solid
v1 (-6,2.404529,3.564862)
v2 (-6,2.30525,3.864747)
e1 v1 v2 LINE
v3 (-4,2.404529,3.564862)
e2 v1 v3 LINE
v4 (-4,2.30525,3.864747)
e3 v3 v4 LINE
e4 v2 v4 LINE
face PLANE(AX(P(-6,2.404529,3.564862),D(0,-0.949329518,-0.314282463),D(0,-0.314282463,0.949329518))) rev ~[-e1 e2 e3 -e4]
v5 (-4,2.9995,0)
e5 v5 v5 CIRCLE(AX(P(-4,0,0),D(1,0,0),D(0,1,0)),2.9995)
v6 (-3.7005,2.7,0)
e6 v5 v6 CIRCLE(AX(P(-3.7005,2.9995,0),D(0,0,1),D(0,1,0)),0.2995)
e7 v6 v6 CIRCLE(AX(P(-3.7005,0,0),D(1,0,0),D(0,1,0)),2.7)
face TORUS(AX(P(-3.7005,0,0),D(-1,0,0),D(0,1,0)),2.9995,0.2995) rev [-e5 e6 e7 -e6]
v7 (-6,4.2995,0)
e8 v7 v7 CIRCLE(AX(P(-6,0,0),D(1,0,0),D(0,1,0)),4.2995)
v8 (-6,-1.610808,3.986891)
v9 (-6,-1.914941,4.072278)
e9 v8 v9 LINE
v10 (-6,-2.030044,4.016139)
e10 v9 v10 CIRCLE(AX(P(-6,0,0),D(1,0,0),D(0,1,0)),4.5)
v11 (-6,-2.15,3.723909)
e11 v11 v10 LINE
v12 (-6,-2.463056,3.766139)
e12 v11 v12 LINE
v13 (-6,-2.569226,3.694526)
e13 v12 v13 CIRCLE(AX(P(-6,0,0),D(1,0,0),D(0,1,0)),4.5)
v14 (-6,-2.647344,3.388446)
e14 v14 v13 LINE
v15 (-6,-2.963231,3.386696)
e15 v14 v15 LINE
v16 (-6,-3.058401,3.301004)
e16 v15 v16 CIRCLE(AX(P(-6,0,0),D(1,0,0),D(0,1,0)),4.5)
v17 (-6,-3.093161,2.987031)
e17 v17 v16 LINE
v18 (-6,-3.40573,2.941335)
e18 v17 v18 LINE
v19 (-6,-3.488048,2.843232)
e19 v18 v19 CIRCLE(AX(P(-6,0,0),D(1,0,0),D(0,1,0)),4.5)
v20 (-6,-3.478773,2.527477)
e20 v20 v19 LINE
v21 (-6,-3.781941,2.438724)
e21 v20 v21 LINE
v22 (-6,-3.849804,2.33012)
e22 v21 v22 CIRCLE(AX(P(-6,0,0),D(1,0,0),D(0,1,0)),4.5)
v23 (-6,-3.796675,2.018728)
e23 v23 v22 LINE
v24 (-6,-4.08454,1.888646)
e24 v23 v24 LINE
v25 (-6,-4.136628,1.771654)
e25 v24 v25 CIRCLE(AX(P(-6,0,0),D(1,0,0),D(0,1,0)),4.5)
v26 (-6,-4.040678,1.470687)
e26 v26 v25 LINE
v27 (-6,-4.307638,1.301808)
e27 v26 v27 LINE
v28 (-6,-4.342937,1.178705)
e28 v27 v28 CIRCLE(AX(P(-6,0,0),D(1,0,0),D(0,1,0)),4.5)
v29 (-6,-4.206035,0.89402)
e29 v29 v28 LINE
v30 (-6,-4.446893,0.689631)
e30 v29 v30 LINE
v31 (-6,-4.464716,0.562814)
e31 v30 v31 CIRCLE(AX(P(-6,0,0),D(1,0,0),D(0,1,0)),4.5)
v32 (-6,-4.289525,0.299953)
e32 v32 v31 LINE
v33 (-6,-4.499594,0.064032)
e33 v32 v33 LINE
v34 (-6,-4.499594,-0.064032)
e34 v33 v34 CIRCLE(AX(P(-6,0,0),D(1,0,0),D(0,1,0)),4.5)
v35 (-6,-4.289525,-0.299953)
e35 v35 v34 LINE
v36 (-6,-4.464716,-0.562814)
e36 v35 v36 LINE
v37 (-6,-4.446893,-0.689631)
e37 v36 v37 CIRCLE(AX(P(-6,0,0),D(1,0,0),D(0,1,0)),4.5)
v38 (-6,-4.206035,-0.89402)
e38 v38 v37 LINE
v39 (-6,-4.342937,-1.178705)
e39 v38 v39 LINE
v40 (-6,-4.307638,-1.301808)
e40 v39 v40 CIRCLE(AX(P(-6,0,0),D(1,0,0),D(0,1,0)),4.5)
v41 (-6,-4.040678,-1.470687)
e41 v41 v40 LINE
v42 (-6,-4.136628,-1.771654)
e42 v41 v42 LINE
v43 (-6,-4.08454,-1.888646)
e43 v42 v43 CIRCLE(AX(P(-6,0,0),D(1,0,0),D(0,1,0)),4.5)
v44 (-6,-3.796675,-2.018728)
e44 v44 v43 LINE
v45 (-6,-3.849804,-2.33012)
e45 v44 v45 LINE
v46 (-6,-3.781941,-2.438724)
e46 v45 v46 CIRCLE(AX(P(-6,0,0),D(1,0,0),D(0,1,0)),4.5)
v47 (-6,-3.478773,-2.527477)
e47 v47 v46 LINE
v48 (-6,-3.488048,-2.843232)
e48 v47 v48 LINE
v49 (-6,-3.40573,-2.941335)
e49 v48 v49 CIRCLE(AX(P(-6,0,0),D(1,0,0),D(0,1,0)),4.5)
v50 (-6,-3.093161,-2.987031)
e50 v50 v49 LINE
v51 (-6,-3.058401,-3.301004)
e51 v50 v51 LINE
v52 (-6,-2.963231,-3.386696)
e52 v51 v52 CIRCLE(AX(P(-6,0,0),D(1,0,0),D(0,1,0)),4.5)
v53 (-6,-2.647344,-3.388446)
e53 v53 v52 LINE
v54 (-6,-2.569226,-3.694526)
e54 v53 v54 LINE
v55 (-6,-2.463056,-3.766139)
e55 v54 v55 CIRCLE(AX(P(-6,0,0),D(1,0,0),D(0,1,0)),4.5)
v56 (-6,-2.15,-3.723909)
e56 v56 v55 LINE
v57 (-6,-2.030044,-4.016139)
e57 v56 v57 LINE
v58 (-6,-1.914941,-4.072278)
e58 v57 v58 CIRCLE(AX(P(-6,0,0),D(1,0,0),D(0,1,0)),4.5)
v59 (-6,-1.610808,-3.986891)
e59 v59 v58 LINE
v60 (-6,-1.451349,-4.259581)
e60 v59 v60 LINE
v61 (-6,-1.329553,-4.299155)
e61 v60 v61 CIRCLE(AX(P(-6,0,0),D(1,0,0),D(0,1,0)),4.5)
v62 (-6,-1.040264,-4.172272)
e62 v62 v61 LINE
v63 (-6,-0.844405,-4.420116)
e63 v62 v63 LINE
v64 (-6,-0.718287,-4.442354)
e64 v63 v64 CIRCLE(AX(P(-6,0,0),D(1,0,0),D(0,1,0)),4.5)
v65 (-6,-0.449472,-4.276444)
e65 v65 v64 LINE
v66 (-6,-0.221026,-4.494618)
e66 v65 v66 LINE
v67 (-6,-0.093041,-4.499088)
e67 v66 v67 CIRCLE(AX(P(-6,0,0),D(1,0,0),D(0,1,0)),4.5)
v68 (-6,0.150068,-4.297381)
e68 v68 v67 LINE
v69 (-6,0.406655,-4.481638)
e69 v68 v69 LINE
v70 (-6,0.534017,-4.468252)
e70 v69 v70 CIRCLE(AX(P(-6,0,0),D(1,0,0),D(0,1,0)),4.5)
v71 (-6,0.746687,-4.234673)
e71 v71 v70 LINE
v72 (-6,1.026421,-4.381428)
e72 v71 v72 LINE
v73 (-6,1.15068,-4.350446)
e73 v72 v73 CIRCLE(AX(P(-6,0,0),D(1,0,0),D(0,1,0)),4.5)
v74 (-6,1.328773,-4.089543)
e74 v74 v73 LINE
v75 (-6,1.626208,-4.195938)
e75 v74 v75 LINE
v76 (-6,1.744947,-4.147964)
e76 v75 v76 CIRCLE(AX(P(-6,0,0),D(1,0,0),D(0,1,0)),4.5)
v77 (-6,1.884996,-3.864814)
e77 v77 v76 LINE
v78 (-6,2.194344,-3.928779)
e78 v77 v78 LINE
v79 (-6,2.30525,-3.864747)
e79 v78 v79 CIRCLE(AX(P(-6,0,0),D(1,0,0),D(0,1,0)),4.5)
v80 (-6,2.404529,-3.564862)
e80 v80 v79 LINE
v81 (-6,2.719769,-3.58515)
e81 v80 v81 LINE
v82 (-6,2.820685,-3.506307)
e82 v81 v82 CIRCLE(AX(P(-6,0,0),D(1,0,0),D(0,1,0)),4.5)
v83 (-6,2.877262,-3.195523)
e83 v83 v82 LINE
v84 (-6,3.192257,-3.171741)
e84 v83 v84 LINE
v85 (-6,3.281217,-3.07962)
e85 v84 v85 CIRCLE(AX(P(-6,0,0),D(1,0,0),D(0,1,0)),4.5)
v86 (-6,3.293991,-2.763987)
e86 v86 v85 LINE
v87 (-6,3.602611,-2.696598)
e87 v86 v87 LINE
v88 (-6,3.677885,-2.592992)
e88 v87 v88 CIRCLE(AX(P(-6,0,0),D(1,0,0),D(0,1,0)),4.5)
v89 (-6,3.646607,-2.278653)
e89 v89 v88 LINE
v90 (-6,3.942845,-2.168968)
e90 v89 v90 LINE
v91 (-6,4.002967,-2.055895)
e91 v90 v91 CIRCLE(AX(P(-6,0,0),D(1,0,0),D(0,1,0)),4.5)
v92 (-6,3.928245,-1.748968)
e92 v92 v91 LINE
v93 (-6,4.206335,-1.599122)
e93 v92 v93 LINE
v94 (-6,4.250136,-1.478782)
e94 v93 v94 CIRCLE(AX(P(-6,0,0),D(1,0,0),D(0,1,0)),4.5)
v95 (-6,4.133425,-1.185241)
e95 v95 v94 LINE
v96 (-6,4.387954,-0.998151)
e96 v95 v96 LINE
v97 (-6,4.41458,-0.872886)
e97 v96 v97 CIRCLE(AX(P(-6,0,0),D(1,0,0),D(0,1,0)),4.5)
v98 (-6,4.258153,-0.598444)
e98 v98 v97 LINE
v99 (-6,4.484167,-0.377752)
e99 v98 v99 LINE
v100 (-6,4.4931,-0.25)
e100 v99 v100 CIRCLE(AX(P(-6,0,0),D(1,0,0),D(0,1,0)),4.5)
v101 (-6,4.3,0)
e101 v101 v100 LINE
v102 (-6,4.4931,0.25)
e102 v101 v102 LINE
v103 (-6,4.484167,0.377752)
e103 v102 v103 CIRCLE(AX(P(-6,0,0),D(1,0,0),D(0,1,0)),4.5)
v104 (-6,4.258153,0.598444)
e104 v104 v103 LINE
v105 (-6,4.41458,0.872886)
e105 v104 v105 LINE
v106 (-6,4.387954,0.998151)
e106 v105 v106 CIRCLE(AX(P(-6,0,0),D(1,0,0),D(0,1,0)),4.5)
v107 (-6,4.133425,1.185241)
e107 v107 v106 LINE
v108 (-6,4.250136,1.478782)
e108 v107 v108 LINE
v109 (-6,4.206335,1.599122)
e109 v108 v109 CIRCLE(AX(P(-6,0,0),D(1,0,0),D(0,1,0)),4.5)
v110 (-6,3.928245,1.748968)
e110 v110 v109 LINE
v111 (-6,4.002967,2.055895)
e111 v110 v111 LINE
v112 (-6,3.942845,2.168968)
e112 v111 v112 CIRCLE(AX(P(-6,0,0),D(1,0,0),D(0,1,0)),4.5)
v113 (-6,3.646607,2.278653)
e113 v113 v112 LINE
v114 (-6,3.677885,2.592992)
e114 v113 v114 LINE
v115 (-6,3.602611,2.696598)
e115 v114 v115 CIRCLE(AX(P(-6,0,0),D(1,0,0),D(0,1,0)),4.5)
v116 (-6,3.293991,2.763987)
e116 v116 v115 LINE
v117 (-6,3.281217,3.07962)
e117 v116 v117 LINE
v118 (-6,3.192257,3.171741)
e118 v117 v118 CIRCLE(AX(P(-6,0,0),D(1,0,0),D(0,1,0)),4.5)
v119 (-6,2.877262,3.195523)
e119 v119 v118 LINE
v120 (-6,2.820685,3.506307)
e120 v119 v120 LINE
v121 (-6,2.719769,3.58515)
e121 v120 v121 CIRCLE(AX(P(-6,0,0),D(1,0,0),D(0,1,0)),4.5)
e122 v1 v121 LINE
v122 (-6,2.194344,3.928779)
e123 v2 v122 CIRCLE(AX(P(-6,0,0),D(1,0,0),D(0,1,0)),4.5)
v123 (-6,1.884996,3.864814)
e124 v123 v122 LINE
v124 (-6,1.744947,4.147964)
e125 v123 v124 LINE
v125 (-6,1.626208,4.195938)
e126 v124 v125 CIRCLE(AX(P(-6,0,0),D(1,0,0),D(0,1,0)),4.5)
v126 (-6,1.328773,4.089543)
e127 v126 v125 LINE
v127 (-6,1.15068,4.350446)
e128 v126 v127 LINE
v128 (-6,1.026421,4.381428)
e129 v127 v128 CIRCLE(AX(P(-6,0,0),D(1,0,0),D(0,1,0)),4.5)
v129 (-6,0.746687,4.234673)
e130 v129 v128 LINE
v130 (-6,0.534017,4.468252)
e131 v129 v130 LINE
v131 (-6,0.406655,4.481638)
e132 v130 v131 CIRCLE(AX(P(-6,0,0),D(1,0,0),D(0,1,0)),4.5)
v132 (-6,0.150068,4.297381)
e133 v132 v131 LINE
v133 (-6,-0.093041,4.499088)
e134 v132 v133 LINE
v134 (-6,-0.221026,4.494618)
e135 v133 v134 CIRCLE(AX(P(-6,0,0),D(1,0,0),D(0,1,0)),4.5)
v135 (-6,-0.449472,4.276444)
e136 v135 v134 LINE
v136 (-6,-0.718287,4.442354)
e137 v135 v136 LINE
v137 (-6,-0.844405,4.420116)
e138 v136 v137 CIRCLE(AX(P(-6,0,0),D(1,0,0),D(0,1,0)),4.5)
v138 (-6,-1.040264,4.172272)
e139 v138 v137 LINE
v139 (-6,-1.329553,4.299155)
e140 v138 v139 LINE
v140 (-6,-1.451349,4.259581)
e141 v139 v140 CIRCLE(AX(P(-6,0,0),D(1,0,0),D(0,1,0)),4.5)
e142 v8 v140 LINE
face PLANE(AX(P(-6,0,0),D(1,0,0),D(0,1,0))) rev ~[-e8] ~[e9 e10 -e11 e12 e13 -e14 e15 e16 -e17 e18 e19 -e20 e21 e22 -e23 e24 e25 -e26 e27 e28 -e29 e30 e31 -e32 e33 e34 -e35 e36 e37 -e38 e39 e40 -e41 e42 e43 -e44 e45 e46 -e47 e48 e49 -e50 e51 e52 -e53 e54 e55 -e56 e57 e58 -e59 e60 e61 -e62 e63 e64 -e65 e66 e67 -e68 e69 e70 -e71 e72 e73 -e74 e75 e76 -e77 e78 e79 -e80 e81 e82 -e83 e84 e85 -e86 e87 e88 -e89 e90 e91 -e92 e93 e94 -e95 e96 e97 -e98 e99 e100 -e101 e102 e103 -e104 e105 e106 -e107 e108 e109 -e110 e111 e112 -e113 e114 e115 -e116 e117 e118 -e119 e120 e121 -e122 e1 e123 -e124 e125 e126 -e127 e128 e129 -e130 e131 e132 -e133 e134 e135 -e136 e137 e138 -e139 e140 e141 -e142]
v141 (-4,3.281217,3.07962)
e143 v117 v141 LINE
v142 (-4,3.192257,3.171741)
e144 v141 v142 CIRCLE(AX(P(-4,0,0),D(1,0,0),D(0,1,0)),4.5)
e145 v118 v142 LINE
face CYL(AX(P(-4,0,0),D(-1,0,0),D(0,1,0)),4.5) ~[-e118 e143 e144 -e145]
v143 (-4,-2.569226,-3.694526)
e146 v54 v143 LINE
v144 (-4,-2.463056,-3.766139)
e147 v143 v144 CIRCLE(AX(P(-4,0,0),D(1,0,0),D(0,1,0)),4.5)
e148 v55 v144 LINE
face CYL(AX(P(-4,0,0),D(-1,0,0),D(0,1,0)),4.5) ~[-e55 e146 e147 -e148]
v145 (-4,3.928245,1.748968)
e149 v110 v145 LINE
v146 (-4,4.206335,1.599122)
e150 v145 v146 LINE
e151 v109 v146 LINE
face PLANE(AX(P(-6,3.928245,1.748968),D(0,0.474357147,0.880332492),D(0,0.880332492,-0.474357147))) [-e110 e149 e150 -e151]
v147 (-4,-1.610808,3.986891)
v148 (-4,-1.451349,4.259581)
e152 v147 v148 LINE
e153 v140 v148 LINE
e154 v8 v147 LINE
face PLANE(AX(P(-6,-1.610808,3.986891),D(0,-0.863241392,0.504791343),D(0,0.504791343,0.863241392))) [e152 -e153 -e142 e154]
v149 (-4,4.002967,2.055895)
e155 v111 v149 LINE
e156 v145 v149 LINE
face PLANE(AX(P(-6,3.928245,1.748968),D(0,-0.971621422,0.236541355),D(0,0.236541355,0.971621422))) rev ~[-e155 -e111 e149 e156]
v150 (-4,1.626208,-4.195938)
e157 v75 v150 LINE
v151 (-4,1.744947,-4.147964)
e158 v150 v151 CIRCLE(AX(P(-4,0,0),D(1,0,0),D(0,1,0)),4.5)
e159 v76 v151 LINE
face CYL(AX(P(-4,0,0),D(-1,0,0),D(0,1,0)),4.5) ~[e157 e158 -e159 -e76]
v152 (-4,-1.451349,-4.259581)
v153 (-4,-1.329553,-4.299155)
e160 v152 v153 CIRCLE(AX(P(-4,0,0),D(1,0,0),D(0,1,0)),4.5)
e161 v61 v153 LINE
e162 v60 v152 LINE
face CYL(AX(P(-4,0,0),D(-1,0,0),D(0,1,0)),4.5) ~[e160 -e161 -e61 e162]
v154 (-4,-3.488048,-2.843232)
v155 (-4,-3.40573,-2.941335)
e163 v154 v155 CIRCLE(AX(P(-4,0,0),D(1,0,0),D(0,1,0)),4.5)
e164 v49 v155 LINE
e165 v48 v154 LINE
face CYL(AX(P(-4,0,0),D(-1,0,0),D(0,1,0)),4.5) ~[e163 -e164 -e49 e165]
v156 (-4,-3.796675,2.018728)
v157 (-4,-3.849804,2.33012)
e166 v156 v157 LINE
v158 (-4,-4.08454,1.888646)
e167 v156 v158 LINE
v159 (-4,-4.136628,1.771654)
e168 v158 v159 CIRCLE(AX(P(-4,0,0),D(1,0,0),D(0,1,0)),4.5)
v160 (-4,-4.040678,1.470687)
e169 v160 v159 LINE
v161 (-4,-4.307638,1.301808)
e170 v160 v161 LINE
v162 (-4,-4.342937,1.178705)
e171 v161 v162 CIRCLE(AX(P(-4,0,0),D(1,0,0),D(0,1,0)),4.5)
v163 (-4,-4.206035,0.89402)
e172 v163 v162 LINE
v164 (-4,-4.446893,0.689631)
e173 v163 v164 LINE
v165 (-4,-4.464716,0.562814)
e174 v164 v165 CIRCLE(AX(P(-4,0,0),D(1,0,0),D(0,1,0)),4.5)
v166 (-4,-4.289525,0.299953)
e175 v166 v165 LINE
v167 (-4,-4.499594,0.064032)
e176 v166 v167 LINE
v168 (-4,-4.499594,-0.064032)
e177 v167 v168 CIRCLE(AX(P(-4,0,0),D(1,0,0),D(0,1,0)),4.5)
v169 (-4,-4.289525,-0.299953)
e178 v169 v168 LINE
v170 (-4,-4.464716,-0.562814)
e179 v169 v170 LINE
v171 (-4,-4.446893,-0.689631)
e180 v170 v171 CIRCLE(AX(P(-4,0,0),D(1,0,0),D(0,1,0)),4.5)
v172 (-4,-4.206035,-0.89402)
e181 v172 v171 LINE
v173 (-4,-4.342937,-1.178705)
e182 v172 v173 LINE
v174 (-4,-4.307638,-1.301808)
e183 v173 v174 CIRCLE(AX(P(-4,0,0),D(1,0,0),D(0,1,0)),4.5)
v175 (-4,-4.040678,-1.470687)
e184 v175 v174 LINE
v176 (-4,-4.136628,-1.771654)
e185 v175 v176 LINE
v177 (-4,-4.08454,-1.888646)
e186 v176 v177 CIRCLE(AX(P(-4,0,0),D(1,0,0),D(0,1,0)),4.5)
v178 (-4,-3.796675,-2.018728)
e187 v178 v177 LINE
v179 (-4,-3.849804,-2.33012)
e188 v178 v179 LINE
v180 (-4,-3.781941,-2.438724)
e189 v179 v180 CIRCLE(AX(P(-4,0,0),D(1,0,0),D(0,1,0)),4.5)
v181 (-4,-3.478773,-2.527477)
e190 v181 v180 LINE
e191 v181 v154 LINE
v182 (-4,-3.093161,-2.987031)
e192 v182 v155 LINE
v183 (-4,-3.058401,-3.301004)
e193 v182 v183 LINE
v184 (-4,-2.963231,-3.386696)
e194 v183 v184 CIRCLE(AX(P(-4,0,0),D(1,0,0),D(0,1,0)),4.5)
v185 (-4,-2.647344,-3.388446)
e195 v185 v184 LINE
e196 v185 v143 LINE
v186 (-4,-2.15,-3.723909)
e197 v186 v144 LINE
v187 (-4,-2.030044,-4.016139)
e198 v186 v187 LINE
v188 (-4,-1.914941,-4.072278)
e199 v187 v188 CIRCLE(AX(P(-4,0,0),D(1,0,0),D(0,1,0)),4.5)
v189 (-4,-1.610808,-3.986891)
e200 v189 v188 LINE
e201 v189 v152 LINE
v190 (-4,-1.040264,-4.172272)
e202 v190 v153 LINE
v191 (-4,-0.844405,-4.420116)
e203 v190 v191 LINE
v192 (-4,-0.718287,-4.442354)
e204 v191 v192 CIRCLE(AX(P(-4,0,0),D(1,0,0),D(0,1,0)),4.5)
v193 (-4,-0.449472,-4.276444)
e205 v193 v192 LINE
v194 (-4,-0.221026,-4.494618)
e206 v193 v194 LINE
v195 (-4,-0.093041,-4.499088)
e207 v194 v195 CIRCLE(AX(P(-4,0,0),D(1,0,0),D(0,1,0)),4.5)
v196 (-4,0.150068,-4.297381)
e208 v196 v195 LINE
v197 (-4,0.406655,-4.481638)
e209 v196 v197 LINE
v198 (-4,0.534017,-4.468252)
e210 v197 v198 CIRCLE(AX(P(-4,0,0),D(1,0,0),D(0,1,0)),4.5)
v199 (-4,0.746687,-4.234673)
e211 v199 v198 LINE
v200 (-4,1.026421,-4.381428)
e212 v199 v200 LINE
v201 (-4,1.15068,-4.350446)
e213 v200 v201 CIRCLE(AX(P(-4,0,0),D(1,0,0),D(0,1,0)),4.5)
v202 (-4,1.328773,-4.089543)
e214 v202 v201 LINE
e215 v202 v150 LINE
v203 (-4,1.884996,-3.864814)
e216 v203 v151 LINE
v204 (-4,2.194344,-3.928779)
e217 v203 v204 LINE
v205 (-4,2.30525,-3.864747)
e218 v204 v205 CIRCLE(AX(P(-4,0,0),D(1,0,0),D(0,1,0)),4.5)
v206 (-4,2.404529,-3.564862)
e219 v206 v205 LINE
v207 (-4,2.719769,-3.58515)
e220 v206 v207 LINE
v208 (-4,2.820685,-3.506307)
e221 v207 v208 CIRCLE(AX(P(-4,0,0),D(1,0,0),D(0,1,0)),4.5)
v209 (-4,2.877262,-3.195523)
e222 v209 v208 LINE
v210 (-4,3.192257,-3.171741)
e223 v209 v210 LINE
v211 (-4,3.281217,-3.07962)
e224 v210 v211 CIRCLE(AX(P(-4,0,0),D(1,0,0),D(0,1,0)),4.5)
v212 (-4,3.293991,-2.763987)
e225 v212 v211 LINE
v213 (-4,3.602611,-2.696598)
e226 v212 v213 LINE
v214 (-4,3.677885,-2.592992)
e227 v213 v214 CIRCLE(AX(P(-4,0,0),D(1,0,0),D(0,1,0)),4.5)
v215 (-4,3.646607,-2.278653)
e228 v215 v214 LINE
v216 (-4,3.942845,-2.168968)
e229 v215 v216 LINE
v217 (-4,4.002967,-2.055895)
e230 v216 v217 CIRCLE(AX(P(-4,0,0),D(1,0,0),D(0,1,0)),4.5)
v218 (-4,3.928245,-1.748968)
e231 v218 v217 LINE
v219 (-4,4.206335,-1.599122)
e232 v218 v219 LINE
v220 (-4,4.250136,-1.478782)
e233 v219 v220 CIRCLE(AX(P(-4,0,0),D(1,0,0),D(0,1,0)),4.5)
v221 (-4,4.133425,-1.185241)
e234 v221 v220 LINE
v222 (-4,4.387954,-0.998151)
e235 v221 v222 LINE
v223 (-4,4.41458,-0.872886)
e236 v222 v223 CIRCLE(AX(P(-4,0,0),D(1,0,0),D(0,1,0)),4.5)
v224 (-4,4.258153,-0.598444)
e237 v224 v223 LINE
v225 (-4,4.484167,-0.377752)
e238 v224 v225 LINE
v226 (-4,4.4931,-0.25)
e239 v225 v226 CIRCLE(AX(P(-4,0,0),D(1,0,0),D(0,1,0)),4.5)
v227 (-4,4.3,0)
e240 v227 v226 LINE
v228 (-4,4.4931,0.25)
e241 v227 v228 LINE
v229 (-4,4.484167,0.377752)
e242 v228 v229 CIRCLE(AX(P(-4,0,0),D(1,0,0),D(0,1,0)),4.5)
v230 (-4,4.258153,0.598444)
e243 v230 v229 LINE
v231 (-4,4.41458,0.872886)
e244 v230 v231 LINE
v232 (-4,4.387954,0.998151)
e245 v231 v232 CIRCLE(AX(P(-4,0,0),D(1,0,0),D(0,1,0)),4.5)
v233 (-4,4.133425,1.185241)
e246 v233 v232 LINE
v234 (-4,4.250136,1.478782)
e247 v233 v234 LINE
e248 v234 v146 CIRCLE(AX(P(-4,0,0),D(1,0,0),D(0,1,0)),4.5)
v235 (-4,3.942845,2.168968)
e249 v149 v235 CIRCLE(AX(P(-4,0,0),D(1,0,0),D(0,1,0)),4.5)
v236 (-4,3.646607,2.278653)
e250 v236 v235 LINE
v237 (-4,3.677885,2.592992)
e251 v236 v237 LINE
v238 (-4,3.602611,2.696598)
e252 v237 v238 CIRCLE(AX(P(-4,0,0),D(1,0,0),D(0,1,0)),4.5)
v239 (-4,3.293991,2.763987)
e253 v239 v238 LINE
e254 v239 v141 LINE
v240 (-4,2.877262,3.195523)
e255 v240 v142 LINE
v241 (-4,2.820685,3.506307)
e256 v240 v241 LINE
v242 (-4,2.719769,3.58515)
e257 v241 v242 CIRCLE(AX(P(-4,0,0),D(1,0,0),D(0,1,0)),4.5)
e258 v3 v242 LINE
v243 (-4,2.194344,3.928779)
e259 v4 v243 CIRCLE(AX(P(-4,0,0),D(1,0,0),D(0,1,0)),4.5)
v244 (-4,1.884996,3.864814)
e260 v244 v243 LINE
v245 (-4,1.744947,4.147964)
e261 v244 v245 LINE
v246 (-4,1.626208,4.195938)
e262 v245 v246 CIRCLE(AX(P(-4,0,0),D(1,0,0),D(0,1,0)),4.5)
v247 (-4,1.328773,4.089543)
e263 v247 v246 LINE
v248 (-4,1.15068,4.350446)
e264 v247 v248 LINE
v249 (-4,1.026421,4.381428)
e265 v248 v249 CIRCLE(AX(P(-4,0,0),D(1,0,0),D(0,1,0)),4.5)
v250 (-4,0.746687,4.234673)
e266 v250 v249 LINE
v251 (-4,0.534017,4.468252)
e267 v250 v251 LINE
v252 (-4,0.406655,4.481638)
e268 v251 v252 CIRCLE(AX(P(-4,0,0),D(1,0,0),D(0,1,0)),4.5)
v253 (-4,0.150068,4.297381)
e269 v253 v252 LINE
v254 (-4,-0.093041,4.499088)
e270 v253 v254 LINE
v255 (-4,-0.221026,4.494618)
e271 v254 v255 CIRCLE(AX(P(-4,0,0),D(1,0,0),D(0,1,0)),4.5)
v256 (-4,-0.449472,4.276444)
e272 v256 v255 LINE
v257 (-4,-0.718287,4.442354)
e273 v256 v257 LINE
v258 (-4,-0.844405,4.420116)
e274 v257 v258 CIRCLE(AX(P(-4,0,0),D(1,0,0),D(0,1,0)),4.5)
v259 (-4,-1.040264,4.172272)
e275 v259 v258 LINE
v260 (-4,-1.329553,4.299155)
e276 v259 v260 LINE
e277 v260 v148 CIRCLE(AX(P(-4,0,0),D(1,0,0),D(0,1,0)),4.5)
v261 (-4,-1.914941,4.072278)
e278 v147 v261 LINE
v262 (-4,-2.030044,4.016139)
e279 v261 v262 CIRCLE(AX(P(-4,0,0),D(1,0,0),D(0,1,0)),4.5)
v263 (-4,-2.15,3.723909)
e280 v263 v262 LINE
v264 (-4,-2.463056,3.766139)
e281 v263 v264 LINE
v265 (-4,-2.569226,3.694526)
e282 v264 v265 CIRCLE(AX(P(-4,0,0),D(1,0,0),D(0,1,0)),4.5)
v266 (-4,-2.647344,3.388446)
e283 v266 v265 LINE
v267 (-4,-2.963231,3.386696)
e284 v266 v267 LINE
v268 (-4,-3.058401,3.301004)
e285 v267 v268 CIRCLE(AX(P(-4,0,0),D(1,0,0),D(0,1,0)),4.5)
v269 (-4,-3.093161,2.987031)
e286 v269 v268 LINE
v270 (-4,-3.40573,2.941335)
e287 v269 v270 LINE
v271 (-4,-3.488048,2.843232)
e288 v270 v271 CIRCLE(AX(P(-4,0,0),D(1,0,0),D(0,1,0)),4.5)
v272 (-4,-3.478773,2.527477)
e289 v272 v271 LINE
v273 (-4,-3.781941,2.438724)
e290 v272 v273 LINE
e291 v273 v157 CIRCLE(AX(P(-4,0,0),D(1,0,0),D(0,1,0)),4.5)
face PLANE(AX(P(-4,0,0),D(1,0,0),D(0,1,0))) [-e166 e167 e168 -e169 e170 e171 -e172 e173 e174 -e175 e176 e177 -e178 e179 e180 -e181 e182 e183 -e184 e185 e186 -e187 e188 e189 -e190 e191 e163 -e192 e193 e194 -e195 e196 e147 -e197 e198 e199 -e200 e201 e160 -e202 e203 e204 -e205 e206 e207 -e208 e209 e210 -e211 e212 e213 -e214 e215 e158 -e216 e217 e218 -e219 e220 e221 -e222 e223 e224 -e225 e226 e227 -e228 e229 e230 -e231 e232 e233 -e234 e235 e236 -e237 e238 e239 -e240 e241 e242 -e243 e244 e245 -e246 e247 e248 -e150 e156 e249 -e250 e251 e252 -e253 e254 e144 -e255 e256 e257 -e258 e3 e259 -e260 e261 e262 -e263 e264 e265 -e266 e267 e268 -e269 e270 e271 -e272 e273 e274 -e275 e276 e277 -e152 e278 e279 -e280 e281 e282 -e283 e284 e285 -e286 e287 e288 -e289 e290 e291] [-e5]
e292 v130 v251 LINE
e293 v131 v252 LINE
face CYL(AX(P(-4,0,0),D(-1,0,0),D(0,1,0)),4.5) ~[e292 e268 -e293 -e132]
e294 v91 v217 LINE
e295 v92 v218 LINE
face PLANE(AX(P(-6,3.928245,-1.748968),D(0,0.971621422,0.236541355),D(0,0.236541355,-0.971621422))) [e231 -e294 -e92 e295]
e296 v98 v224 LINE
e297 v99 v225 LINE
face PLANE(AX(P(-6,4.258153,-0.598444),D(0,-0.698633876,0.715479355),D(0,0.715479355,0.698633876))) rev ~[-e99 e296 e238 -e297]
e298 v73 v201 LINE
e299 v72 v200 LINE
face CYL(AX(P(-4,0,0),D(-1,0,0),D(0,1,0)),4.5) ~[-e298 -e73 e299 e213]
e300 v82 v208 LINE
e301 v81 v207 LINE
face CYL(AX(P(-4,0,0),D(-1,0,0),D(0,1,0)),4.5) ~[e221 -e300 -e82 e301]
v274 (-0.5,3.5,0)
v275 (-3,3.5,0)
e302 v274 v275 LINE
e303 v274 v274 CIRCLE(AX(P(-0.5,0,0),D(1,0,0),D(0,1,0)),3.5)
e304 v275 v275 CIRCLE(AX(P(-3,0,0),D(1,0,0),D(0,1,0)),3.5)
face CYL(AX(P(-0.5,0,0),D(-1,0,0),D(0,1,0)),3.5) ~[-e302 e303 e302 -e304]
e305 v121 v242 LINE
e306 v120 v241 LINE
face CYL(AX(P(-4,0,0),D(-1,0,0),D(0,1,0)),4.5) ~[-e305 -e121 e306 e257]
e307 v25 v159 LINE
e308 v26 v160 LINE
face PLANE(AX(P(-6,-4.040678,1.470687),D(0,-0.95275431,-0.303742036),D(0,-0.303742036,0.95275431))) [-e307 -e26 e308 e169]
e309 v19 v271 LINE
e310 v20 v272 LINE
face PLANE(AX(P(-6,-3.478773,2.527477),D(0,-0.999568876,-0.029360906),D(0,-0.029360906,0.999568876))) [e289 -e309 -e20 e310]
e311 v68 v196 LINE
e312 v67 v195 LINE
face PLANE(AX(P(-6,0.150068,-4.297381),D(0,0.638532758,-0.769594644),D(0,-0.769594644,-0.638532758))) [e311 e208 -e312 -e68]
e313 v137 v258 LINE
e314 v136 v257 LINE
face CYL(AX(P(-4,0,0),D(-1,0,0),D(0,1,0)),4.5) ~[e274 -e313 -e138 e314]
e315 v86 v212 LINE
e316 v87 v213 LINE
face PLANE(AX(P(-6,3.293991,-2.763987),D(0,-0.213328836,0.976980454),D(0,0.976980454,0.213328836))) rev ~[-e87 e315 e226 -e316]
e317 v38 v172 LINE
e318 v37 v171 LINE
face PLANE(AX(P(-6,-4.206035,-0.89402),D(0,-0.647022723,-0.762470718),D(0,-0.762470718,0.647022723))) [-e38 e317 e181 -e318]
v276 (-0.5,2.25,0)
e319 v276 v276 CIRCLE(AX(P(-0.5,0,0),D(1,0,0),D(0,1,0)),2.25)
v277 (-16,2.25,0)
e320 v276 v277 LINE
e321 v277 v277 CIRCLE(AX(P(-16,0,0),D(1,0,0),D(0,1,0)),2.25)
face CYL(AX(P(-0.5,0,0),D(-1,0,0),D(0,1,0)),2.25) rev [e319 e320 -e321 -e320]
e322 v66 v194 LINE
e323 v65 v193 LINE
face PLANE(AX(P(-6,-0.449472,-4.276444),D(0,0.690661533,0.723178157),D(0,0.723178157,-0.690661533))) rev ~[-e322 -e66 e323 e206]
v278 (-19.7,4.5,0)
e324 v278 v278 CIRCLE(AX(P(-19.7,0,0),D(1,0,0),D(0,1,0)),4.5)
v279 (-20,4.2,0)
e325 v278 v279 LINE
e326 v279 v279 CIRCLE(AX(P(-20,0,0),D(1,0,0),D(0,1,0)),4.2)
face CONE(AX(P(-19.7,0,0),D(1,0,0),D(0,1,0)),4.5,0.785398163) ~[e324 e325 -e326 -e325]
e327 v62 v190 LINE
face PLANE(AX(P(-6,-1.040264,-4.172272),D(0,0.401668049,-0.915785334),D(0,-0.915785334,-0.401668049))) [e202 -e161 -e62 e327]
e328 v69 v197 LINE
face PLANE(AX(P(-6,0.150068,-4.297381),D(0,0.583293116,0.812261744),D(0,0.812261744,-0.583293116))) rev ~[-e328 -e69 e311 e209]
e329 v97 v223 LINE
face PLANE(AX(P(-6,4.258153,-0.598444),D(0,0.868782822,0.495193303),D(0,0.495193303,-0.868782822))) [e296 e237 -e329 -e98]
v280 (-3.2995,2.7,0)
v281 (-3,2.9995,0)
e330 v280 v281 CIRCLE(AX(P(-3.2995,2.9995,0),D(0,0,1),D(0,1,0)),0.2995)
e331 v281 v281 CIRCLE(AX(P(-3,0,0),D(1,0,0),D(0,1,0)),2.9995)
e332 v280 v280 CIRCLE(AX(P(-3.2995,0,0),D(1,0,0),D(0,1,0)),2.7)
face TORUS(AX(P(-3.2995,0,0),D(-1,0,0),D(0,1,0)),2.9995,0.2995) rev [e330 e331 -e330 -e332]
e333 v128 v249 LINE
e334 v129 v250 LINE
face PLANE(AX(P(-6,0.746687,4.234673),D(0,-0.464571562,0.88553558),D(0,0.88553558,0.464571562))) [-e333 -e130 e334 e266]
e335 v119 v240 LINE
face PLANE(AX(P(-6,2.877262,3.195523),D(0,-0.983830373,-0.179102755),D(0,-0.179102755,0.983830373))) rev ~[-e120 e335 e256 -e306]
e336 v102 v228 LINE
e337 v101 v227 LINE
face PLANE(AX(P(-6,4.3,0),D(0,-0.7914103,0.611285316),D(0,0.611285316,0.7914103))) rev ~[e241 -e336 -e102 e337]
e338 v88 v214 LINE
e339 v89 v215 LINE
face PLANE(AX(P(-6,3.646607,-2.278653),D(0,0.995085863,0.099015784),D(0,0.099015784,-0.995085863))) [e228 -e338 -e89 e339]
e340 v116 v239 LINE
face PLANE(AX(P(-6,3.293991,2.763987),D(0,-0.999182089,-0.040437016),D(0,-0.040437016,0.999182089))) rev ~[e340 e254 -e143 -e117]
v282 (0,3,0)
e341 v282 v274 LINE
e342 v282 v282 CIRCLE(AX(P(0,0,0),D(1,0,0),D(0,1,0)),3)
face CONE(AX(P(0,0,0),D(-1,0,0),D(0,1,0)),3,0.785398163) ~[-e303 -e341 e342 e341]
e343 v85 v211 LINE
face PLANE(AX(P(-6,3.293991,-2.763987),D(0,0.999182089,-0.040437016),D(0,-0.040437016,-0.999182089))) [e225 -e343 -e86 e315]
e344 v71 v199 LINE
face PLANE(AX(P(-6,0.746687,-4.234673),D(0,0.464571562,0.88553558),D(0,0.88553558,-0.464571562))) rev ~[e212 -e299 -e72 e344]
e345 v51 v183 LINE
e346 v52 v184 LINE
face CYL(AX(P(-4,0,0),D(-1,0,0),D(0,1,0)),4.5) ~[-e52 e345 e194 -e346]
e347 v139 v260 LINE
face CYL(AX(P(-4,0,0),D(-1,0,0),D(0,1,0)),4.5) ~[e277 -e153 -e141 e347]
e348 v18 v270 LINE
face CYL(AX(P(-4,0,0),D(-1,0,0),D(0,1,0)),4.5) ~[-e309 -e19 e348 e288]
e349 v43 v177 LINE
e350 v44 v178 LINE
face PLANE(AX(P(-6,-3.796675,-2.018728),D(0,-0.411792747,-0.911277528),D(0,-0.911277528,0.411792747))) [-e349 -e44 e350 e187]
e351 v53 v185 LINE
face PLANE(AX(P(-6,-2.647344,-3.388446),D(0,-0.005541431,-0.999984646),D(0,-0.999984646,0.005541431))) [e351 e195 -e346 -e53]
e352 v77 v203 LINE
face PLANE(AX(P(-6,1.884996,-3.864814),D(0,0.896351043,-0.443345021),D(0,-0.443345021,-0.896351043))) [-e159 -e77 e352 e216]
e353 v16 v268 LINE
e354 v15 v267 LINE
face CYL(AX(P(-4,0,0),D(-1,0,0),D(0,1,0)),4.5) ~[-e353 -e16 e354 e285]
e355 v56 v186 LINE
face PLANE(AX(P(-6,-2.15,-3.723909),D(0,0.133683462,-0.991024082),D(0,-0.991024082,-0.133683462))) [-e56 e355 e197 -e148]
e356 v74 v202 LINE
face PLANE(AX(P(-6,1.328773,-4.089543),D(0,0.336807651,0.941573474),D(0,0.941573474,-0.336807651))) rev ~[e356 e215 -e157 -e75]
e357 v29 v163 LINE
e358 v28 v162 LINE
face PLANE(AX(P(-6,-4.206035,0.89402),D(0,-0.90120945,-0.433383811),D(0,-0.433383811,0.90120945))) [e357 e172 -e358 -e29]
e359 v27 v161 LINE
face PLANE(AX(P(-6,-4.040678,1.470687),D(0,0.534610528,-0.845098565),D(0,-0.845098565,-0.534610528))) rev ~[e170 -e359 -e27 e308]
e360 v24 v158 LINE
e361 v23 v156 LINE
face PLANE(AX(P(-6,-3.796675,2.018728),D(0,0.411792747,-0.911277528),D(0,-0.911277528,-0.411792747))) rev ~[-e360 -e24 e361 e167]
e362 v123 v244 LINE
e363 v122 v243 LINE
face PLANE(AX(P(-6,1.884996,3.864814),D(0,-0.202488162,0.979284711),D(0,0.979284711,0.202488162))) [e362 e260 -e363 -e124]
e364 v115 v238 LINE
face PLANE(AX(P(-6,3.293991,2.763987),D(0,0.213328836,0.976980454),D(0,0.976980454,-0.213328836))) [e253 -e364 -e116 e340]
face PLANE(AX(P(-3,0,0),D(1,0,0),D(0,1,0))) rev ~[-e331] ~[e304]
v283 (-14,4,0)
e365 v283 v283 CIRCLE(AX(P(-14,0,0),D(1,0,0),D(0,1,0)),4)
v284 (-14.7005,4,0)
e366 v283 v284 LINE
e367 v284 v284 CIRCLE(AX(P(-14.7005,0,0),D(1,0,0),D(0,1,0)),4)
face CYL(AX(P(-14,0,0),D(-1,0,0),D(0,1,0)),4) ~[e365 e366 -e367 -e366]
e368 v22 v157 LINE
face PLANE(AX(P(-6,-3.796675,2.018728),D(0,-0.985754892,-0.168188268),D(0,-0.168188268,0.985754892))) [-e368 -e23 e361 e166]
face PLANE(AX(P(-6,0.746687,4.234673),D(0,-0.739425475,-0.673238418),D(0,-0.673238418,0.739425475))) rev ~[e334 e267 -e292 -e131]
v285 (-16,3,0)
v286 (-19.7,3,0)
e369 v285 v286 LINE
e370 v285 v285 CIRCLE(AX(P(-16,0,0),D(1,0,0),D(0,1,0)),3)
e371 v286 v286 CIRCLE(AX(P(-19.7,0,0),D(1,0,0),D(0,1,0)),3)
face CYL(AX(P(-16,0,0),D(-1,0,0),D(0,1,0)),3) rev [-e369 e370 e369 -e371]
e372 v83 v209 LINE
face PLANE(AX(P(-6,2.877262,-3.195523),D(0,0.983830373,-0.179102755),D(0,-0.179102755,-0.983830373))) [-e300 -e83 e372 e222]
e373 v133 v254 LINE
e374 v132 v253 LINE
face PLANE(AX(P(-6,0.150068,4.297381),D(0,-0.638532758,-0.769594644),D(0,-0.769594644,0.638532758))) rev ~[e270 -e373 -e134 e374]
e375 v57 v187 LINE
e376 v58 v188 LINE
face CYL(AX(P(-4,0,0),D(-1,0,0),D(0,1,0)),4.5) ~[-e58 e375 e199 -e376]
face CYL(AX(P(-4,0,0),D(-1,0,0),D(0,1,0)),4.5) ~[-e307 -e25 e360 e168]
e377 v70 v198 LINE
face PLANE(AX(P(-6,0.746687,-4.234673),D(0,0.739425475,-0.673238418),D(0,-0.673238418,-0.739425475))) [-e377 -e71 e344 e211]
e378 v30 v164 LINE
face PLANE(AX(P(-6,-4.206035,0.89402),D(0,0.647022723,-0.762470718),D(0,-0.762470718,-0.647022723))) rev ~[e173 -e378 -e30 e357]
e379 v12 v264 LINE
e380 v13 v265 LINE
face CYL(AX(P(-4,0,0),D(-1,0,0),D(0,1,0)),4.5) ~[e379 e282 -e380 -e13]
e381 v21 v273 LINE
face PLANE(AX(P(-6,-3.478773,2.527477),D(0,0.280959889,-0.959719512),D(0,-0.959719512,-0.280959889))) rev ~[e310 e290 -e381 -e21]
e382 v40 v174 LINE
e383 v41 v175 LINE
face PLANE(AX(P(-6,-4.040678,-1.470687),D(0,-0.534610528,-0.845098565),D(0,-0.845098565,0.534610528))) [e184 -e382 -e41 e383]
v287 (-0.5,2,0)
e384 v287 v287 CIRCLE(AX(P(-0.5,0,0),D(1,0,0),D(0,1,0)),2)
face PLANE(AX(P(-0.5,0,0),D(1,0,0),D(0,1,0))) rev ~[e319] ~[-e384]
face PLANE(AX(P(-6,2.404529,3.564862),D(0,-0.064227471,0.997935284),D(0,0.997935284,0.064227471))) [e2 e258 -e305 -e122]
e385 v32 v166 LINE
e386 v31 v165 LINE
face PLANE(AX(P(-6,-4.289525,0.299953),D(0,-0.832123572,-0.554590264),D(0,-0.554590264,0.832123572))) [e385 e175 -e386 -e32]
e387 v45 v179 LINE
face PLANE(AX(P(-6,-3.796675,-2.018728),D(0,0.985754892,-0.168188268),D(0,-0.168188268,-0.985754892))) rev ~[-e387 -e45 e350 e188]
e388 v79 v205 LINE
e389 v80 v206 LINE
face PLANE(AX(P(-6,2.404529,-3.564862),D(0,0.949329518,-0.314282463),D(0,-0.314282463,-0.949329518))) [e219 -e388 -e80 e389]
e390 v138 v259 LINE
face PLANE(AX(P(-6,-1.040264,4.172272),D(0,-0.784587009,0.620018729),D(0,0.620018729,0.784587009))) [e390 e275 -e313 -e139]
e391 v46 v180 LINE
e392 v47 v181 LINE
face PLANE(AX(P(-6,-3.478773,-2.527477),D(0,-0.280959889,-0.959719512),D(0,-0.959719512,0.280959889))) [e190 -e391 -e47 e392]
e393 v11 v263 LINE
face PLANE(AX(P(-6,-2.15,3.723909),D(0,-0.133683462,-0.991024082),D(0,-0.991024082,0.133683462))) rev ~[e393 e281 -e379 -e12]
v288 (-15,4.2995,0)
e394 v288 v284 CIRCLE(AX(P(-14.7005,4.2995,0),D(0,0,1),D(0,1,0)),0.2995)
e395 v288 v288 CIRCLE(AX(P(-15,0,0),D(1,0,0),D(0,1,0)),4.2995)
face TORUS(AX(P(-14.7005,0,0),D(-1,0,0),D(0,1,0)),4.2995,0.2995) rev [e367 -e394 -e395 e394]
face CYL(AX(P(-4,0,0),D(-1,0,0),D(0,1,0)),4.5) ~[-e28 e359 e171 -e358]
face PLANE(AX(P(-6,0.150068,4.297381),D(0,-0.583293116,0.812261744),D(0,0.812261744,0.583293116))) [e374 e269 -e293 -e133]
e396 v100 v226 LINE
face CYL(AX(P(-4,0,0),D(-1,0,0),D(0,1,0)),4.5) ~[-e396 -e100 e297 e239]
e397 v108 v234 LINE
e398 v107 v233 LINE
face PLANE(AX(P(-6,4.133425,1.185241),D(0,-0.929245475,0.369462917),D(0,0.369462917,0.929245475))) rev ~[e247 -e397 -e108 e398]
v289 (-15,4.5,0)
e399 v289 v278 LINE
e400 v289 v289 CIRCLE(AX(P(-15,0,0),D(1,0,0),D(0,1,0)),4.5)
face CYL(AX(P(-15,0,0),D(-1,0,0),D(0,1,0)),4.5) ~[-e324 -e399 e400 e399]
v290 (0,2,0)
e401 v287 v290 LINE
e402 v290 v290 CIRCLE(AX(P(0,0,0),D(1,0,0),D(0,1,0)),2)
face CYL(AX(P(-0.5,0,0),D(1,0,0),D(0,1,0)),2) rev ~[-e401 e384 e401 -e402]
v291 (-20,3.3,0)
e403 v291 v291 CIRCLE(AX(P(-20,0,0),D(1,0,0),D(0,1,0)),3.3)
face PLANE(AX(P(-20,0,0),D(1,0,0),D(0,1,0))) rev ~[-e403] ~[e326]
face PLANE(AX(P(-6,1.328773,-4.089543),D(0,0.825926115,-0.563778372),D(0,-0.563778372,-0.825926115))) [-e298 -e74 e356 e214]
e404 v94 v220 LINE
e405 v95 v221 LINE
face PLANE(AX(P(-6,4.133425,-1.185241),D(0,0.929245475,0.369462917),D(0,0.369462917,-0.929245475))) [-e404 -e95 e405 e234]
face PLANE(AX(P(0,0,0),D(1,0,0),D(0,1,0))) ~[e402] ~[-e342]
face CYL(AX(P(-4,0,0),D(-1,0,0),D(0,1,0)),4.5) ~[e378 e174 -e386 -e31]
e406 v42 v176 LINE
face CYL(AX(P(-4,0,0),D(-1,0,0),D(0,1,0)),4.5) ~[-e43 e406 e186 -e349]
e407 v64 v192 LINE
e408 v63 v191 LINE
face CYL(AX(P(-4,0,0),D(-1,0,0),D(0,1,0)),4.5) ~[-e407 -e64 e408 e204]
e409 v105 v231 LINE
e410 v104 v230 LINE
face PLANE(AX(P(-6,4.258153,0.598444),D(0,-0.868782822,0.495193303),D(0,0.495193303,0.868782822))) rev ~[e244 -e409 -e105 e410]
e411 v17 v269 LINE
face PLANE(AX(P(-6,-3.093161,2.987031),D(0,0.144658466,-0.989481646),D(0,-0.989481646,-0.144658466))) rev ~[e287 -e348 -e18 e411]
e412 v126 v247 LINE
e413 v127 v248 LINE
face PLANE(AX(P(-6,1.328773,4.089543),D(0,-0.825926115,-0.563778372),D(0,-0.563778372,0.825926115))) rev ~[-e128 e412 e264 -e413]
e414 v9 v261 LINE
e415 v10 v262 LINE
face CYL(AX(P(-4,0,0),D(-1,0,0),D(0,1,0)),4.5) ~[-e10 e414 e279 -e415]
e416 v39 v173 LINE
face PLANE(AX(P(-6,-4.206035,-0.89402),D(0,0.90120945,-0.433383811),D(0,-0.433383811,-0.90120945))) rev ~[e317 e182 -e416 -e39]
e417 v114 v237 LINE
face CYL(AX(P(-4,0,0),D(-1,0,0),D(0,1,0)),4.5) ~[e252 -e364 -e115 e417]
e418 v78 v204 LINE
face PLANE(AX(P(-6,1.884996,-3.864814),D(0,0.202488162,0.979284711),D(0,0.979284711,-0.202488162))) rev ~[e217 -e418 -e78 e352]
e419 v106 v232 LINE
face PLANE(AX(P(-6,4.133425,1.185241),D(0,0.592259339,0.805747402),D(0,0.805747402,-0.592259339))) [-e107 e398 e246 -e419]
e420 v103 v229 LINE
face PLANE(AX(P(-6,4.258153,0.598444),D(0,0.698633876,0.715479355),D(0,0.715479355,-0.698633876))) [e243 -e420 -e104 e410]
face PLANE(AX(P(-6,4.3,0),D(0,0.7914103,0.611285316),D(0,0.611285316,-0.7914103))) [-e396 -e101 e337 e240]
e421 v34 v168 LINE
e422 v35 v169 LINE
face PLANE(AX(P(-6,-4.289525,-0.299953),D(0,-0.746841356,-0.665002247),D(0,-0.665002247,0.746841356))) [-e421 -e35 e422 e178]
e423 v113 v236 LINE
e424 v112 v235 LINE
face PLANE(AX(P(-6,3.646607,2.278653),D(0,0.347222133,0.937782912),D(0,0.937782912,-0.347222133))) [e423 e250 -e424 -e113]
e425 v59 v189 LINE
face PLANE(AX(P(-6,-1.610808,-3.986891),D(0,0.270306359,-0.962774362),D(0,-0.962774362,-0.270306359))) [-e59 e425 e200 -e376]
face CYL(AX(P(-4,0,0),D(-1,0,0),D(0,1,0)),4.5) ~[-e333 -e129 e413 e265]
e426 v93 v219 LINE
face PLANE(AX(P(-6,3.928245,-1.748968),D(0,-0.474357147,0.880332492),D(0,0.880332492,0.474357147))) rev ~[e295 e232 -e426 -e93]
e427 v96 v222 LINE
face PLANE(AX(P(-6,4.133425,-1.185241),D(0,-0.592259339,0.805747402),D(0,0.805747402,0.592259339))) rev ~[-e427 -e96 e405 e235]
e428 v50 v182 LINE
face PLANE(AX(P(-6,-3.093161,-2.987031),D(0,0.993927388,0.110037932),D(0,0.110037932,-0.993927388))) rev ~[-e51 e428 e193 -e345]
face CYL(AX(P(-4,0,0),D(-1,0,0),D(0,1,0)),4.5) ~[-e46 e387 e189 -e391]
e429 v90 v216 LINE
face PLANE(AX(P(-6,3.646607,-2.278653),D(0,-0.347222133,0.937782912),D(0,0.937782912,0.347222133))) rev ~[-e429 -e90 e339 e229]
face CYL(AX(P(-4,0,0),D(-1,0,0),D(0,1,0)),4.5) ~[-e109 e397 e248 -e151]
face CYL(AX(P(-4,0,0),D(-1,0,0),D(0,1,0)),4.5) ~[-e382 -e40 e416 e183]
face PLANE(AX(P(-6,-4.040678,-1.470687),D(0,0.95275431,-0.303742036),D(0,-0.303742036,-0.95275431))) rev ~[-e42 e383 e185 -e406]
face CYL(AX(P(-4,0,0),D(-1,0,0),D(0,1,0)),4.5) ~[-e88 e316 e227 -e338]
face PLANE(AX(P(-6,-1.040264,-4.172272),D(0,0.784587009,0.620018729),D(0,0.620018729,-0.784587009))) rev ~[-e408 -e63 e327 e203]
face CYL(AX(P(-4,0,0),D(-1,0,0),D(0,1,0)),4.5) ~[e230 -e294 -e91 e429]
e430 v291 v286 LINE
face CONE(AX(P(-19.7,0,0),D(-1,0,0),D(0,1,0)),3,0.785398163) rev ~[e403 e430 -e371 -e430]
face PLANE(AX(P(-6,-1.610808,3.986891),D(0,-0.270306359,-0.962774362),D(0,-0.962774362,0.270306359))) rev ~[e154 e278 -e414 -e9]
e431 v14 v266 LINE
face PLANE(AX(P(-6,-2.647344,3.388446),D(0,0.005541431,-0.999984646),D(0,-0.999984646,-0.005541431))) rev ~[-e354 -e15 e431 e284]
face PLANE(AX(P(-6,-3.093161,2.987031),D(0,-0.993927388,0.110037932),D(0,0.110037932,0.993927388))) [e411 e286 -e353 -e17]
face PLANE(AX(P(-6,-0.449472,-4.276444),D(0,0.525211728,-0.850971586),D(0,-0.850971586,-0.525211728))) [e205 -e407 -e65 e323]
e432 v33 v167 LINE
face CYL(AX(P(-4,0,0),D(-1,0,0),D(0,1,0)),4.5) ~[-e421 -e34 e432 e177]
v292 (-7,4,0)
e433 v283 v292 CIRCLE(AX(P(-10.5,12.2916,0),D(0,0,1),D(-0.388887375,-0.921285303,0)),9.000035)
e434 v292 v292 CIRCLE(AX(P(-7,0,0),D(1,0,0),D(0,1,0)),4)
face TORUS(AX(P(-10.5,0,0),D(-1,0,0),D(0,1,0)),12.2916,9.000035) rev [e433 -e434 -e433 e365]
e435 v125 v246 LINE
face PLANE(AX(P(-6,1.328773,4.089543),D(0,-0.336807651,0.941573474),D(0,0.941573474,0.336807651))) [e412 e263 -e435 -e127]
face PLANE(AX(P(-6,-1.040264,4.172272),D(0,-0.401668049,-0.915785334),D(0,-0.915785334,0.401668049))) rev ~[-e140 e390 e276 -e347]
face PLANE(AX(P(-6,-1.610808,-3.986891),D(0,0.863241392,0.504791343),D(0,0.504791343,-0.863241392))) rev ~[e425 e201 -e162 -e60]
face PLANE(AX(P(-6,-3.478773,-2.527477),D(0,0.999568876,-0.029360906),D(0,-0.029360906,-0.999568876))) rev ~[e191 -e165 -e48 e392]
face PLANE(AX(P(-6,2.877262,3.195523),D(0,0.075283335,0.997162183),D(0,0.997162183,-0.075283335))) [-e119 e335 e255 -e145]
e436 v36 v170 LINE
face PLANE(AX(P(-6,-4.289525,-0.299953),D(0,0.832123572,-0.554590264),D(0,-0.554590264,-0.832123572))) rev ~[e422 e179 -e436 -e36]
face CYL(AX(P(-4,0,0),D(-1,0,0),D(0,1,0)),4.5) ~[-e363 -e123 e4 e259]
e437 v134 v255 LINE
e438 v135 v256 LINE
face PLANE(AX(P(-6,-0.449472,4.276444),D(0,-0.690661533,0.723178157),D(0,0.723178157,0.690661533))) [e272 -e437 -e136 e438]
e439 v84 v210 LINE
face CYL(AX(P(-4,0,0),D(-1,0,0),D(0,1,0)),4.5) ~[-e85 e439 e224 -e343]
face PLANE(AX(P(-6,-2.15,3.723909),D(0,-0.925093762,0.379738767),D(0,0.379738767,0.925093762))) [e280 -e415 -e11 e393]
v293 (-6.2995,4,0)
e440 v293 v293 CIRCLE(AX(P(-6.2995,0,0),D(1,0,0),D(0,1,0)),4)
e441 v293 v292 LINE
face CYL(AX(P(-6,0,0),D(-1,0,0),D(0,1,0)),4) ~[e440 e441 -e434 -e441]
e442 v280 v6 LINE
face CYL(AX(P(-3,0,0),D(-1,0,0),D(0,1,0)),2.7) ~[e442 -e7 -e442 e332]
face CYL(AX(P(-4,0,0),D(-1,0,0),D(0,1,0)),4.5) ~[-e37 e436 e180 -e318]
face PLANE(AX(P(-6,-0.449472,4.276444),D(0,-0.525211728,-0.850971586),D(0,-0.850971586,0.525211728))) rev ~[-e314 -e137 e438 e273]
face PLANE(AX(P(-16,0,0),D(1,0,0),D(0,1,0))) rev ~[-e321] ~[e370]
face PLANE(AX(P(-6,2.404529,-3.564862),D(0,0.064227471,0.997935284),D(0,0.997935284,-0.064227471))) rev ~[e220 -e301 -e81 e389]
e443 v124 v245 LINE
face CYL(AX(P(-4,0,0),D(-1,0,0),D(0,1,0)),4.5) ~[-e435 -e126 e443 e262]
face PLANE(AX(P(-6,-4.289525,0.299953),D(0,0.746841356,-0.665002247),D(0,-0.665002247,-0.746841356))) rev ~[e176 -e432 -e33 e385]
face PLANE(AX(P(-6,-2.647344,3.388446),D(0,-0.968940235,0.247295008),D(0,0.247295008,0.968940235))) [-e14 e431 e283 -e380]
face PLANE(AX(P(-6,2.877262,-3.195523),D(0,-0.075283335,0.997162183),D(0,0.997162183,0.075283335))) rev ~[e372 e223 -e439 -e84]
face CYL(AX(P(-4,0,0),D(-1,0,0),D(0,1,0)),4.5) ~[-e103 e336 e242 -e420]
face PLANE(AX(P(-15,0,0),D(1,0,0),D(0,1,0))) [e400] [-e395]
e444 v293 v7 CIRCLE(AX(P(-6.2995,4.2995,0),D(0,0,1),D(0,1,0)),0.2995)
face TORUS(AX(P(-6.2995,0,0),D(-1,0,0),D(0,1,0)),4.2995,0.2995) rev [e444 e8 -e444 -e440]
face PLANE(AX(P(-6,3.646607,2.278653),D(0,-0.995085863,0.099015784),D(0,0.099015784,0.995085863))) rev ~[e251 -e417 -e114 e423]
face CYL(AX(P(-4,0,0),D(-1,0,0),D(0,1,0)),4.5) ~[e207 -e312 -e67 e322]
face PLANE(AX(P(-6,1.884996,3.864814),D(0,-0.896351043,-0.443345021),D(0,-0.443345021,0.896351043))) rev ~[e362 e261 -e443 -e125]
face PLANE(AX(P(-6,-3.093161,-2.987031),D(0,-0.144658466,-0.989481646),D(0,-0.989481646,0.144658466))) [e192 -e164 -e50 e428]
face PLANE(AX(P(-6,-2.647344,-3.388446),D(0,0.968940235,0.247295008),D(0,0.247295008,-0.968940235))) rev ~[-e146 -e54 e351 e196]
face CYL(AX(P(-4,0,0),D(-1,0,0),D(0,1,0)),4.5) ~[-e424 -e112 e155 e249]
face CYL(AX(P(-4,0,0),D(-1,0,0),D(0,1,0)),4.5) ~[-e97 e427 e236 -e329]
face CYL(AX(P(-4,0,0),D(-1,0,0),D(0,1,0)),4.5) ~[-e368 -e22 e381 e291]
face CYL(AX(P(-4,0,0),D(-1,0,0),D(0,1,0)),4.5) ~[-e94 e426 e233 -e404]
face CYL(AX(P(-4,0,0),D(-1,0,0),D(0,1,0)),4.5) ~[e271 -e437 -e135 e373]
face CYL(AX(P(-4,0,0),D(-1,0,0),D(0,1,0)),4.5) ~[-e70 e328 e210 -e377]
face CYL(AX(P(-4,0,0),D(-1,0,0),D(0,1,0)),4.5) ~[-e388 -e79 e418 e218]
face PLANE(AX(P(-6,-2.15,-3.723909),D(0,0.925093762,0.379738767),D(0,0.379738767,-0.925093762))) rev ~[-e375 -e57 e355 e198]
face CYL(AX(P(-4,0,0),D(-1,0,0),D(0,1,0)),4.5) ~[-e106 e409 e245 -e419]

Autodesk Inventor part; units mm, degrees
ref_plane "YZ Plane" through (0, 0, 0) normal (1, 0, 0) x (0, 1, 0)
ref_plane "XZ Plane" through (0, 0, 0) normal (0, 1, 0) x (-1, 0, 0)
ref_plane "XY Plane" through (0, 0, 0) normal (0, 0, 1) x (1, 0, 0)
sketch "Skizze1" plane through (0, 0, 0) normal (0, 0, 1) x (1, 0, 0)
  line L0 (-15, 4.5) -> (-20, 4.5)
  line L1 (-14, 4) -> (-15, 4)
  arc A0 (-14, 4) -> (-7, 4) centre (-10.5, 12.2916) ccw
  line L2 (-6, 4) -> (-7, 4)
  line L3 (-4, 4.5) -> (-6, 4.5)
  line L4 (-4, 4.5) -> (-4, 2.7)
  line L5 (-3, 2.7) -> (-4, 2.7)
  line L6 (-0.5, 3.5) -> (-3, 3.5)
  line L7 (0, 3) -> (-0.5, 3.5)
  line L8 (-0.5, 2) -> (0, 2)
  line L9 (-0.5, 2.25) -> (-16, 2.25)
  line L10 (-16, 3) -> (-16, 2.25)
  line L11 (-16, 3) -> (-20, 3)
  line L12 (0, -2.4583) -> (0, 14.7499) projected
  line L13 (-24, 0) -> (4, 0) projected
  line L14 (-0.5, 2.25) -> (-0.5, 2)
  line L15 (-3, 3.5) -> (-3, 2.7)
  line L16 (-6, 4.5) -> (-6, 4)
  line L17 (0, 3) -> (0, 2)
  line L18 (-15, 4.5) -> (-15, 4)
  line L19 (-20, 4.5) -> (-20, 3)
  point P0 (0, 0)
  dimension "d0" = 20
  dimension "d1" = 4
  dimension "d2" = 1
  dimension "d3" = 0.5
  dimension "d4" = 2
  dimension "d5" = 1
  dimension "d6" = 2.5
  dimension "d7" = 0.5
  dimension "d8" = 1
  dimension "d9" = 5
  dimension "d10" = 1
  dimension "d11" = 9
  dimension "d12" = 15.5
  dimension "d13" = 6
  dimension "d14" = 4.5
  dimension "d15" = 4
  dimension "d16" = 7
  dimension "d17" = 5.4
  dimension "d18" = 9
  dimension "d19" = 8
  dimension "d20" = 8
  dimension "d21" = 9
  dimension "d22" = 10.5
revolve "Umdrehung1" add sketch "Skizze1" angle 360 about axis through (-10, 0, 0) along (1, 0, 0)
thread "Gewinde1" size "G7.723x0.907" designation "G 1/16" class "A" standard "ISO Pipe Threads" full length
sketch "Skizze2" plane through (-6, 0, 0) normal (-1, 0, 0) x (0, 0, 1)
  circle A0 centre (0, 0) radius 3.5 projected
  circle A1 centre (0, 0) radius 4.5 projected
  line L0 (0, -6.3) -> (0, 6.3) projected
  line L1 (0, 4.3) -> (0.25, 4.4931)
  line L2 (0, 4.3) -> (-0.25, 4.4931)
  dimension "d26" = 4.3
  dimension "d27" = 0.5
extrude "Extrusion1" cut sketch "Skizze2" against normal up to surface (2 mm away) contours L2 A1 L0 | L0 A1 L1
pattern_circular "Runde Anordnung1" count 45 over 360 about axis through (-10, 0, 0) along (1, 0, 0) of "Extrusion1"
chamfer "Fase1" distance 0.3 angle 45 2 edges at (-20, -3, 0) (-20, -4.5, 0)
fillet "Rundung1" radius 0.3 4 edges at (-4, -2.7, 0) (-3, -2.7, 0) (-6, -4, 0) (-15, -4, 0)
thread "Gewinde3" size "G9.728x0.907" designation "G 1/8" class "A" standard "ISO Pipe Threads" full length
properties part number "YTP-AP-E02-R1.0" material "Messing, weicher Gelbton, geschweißt"
